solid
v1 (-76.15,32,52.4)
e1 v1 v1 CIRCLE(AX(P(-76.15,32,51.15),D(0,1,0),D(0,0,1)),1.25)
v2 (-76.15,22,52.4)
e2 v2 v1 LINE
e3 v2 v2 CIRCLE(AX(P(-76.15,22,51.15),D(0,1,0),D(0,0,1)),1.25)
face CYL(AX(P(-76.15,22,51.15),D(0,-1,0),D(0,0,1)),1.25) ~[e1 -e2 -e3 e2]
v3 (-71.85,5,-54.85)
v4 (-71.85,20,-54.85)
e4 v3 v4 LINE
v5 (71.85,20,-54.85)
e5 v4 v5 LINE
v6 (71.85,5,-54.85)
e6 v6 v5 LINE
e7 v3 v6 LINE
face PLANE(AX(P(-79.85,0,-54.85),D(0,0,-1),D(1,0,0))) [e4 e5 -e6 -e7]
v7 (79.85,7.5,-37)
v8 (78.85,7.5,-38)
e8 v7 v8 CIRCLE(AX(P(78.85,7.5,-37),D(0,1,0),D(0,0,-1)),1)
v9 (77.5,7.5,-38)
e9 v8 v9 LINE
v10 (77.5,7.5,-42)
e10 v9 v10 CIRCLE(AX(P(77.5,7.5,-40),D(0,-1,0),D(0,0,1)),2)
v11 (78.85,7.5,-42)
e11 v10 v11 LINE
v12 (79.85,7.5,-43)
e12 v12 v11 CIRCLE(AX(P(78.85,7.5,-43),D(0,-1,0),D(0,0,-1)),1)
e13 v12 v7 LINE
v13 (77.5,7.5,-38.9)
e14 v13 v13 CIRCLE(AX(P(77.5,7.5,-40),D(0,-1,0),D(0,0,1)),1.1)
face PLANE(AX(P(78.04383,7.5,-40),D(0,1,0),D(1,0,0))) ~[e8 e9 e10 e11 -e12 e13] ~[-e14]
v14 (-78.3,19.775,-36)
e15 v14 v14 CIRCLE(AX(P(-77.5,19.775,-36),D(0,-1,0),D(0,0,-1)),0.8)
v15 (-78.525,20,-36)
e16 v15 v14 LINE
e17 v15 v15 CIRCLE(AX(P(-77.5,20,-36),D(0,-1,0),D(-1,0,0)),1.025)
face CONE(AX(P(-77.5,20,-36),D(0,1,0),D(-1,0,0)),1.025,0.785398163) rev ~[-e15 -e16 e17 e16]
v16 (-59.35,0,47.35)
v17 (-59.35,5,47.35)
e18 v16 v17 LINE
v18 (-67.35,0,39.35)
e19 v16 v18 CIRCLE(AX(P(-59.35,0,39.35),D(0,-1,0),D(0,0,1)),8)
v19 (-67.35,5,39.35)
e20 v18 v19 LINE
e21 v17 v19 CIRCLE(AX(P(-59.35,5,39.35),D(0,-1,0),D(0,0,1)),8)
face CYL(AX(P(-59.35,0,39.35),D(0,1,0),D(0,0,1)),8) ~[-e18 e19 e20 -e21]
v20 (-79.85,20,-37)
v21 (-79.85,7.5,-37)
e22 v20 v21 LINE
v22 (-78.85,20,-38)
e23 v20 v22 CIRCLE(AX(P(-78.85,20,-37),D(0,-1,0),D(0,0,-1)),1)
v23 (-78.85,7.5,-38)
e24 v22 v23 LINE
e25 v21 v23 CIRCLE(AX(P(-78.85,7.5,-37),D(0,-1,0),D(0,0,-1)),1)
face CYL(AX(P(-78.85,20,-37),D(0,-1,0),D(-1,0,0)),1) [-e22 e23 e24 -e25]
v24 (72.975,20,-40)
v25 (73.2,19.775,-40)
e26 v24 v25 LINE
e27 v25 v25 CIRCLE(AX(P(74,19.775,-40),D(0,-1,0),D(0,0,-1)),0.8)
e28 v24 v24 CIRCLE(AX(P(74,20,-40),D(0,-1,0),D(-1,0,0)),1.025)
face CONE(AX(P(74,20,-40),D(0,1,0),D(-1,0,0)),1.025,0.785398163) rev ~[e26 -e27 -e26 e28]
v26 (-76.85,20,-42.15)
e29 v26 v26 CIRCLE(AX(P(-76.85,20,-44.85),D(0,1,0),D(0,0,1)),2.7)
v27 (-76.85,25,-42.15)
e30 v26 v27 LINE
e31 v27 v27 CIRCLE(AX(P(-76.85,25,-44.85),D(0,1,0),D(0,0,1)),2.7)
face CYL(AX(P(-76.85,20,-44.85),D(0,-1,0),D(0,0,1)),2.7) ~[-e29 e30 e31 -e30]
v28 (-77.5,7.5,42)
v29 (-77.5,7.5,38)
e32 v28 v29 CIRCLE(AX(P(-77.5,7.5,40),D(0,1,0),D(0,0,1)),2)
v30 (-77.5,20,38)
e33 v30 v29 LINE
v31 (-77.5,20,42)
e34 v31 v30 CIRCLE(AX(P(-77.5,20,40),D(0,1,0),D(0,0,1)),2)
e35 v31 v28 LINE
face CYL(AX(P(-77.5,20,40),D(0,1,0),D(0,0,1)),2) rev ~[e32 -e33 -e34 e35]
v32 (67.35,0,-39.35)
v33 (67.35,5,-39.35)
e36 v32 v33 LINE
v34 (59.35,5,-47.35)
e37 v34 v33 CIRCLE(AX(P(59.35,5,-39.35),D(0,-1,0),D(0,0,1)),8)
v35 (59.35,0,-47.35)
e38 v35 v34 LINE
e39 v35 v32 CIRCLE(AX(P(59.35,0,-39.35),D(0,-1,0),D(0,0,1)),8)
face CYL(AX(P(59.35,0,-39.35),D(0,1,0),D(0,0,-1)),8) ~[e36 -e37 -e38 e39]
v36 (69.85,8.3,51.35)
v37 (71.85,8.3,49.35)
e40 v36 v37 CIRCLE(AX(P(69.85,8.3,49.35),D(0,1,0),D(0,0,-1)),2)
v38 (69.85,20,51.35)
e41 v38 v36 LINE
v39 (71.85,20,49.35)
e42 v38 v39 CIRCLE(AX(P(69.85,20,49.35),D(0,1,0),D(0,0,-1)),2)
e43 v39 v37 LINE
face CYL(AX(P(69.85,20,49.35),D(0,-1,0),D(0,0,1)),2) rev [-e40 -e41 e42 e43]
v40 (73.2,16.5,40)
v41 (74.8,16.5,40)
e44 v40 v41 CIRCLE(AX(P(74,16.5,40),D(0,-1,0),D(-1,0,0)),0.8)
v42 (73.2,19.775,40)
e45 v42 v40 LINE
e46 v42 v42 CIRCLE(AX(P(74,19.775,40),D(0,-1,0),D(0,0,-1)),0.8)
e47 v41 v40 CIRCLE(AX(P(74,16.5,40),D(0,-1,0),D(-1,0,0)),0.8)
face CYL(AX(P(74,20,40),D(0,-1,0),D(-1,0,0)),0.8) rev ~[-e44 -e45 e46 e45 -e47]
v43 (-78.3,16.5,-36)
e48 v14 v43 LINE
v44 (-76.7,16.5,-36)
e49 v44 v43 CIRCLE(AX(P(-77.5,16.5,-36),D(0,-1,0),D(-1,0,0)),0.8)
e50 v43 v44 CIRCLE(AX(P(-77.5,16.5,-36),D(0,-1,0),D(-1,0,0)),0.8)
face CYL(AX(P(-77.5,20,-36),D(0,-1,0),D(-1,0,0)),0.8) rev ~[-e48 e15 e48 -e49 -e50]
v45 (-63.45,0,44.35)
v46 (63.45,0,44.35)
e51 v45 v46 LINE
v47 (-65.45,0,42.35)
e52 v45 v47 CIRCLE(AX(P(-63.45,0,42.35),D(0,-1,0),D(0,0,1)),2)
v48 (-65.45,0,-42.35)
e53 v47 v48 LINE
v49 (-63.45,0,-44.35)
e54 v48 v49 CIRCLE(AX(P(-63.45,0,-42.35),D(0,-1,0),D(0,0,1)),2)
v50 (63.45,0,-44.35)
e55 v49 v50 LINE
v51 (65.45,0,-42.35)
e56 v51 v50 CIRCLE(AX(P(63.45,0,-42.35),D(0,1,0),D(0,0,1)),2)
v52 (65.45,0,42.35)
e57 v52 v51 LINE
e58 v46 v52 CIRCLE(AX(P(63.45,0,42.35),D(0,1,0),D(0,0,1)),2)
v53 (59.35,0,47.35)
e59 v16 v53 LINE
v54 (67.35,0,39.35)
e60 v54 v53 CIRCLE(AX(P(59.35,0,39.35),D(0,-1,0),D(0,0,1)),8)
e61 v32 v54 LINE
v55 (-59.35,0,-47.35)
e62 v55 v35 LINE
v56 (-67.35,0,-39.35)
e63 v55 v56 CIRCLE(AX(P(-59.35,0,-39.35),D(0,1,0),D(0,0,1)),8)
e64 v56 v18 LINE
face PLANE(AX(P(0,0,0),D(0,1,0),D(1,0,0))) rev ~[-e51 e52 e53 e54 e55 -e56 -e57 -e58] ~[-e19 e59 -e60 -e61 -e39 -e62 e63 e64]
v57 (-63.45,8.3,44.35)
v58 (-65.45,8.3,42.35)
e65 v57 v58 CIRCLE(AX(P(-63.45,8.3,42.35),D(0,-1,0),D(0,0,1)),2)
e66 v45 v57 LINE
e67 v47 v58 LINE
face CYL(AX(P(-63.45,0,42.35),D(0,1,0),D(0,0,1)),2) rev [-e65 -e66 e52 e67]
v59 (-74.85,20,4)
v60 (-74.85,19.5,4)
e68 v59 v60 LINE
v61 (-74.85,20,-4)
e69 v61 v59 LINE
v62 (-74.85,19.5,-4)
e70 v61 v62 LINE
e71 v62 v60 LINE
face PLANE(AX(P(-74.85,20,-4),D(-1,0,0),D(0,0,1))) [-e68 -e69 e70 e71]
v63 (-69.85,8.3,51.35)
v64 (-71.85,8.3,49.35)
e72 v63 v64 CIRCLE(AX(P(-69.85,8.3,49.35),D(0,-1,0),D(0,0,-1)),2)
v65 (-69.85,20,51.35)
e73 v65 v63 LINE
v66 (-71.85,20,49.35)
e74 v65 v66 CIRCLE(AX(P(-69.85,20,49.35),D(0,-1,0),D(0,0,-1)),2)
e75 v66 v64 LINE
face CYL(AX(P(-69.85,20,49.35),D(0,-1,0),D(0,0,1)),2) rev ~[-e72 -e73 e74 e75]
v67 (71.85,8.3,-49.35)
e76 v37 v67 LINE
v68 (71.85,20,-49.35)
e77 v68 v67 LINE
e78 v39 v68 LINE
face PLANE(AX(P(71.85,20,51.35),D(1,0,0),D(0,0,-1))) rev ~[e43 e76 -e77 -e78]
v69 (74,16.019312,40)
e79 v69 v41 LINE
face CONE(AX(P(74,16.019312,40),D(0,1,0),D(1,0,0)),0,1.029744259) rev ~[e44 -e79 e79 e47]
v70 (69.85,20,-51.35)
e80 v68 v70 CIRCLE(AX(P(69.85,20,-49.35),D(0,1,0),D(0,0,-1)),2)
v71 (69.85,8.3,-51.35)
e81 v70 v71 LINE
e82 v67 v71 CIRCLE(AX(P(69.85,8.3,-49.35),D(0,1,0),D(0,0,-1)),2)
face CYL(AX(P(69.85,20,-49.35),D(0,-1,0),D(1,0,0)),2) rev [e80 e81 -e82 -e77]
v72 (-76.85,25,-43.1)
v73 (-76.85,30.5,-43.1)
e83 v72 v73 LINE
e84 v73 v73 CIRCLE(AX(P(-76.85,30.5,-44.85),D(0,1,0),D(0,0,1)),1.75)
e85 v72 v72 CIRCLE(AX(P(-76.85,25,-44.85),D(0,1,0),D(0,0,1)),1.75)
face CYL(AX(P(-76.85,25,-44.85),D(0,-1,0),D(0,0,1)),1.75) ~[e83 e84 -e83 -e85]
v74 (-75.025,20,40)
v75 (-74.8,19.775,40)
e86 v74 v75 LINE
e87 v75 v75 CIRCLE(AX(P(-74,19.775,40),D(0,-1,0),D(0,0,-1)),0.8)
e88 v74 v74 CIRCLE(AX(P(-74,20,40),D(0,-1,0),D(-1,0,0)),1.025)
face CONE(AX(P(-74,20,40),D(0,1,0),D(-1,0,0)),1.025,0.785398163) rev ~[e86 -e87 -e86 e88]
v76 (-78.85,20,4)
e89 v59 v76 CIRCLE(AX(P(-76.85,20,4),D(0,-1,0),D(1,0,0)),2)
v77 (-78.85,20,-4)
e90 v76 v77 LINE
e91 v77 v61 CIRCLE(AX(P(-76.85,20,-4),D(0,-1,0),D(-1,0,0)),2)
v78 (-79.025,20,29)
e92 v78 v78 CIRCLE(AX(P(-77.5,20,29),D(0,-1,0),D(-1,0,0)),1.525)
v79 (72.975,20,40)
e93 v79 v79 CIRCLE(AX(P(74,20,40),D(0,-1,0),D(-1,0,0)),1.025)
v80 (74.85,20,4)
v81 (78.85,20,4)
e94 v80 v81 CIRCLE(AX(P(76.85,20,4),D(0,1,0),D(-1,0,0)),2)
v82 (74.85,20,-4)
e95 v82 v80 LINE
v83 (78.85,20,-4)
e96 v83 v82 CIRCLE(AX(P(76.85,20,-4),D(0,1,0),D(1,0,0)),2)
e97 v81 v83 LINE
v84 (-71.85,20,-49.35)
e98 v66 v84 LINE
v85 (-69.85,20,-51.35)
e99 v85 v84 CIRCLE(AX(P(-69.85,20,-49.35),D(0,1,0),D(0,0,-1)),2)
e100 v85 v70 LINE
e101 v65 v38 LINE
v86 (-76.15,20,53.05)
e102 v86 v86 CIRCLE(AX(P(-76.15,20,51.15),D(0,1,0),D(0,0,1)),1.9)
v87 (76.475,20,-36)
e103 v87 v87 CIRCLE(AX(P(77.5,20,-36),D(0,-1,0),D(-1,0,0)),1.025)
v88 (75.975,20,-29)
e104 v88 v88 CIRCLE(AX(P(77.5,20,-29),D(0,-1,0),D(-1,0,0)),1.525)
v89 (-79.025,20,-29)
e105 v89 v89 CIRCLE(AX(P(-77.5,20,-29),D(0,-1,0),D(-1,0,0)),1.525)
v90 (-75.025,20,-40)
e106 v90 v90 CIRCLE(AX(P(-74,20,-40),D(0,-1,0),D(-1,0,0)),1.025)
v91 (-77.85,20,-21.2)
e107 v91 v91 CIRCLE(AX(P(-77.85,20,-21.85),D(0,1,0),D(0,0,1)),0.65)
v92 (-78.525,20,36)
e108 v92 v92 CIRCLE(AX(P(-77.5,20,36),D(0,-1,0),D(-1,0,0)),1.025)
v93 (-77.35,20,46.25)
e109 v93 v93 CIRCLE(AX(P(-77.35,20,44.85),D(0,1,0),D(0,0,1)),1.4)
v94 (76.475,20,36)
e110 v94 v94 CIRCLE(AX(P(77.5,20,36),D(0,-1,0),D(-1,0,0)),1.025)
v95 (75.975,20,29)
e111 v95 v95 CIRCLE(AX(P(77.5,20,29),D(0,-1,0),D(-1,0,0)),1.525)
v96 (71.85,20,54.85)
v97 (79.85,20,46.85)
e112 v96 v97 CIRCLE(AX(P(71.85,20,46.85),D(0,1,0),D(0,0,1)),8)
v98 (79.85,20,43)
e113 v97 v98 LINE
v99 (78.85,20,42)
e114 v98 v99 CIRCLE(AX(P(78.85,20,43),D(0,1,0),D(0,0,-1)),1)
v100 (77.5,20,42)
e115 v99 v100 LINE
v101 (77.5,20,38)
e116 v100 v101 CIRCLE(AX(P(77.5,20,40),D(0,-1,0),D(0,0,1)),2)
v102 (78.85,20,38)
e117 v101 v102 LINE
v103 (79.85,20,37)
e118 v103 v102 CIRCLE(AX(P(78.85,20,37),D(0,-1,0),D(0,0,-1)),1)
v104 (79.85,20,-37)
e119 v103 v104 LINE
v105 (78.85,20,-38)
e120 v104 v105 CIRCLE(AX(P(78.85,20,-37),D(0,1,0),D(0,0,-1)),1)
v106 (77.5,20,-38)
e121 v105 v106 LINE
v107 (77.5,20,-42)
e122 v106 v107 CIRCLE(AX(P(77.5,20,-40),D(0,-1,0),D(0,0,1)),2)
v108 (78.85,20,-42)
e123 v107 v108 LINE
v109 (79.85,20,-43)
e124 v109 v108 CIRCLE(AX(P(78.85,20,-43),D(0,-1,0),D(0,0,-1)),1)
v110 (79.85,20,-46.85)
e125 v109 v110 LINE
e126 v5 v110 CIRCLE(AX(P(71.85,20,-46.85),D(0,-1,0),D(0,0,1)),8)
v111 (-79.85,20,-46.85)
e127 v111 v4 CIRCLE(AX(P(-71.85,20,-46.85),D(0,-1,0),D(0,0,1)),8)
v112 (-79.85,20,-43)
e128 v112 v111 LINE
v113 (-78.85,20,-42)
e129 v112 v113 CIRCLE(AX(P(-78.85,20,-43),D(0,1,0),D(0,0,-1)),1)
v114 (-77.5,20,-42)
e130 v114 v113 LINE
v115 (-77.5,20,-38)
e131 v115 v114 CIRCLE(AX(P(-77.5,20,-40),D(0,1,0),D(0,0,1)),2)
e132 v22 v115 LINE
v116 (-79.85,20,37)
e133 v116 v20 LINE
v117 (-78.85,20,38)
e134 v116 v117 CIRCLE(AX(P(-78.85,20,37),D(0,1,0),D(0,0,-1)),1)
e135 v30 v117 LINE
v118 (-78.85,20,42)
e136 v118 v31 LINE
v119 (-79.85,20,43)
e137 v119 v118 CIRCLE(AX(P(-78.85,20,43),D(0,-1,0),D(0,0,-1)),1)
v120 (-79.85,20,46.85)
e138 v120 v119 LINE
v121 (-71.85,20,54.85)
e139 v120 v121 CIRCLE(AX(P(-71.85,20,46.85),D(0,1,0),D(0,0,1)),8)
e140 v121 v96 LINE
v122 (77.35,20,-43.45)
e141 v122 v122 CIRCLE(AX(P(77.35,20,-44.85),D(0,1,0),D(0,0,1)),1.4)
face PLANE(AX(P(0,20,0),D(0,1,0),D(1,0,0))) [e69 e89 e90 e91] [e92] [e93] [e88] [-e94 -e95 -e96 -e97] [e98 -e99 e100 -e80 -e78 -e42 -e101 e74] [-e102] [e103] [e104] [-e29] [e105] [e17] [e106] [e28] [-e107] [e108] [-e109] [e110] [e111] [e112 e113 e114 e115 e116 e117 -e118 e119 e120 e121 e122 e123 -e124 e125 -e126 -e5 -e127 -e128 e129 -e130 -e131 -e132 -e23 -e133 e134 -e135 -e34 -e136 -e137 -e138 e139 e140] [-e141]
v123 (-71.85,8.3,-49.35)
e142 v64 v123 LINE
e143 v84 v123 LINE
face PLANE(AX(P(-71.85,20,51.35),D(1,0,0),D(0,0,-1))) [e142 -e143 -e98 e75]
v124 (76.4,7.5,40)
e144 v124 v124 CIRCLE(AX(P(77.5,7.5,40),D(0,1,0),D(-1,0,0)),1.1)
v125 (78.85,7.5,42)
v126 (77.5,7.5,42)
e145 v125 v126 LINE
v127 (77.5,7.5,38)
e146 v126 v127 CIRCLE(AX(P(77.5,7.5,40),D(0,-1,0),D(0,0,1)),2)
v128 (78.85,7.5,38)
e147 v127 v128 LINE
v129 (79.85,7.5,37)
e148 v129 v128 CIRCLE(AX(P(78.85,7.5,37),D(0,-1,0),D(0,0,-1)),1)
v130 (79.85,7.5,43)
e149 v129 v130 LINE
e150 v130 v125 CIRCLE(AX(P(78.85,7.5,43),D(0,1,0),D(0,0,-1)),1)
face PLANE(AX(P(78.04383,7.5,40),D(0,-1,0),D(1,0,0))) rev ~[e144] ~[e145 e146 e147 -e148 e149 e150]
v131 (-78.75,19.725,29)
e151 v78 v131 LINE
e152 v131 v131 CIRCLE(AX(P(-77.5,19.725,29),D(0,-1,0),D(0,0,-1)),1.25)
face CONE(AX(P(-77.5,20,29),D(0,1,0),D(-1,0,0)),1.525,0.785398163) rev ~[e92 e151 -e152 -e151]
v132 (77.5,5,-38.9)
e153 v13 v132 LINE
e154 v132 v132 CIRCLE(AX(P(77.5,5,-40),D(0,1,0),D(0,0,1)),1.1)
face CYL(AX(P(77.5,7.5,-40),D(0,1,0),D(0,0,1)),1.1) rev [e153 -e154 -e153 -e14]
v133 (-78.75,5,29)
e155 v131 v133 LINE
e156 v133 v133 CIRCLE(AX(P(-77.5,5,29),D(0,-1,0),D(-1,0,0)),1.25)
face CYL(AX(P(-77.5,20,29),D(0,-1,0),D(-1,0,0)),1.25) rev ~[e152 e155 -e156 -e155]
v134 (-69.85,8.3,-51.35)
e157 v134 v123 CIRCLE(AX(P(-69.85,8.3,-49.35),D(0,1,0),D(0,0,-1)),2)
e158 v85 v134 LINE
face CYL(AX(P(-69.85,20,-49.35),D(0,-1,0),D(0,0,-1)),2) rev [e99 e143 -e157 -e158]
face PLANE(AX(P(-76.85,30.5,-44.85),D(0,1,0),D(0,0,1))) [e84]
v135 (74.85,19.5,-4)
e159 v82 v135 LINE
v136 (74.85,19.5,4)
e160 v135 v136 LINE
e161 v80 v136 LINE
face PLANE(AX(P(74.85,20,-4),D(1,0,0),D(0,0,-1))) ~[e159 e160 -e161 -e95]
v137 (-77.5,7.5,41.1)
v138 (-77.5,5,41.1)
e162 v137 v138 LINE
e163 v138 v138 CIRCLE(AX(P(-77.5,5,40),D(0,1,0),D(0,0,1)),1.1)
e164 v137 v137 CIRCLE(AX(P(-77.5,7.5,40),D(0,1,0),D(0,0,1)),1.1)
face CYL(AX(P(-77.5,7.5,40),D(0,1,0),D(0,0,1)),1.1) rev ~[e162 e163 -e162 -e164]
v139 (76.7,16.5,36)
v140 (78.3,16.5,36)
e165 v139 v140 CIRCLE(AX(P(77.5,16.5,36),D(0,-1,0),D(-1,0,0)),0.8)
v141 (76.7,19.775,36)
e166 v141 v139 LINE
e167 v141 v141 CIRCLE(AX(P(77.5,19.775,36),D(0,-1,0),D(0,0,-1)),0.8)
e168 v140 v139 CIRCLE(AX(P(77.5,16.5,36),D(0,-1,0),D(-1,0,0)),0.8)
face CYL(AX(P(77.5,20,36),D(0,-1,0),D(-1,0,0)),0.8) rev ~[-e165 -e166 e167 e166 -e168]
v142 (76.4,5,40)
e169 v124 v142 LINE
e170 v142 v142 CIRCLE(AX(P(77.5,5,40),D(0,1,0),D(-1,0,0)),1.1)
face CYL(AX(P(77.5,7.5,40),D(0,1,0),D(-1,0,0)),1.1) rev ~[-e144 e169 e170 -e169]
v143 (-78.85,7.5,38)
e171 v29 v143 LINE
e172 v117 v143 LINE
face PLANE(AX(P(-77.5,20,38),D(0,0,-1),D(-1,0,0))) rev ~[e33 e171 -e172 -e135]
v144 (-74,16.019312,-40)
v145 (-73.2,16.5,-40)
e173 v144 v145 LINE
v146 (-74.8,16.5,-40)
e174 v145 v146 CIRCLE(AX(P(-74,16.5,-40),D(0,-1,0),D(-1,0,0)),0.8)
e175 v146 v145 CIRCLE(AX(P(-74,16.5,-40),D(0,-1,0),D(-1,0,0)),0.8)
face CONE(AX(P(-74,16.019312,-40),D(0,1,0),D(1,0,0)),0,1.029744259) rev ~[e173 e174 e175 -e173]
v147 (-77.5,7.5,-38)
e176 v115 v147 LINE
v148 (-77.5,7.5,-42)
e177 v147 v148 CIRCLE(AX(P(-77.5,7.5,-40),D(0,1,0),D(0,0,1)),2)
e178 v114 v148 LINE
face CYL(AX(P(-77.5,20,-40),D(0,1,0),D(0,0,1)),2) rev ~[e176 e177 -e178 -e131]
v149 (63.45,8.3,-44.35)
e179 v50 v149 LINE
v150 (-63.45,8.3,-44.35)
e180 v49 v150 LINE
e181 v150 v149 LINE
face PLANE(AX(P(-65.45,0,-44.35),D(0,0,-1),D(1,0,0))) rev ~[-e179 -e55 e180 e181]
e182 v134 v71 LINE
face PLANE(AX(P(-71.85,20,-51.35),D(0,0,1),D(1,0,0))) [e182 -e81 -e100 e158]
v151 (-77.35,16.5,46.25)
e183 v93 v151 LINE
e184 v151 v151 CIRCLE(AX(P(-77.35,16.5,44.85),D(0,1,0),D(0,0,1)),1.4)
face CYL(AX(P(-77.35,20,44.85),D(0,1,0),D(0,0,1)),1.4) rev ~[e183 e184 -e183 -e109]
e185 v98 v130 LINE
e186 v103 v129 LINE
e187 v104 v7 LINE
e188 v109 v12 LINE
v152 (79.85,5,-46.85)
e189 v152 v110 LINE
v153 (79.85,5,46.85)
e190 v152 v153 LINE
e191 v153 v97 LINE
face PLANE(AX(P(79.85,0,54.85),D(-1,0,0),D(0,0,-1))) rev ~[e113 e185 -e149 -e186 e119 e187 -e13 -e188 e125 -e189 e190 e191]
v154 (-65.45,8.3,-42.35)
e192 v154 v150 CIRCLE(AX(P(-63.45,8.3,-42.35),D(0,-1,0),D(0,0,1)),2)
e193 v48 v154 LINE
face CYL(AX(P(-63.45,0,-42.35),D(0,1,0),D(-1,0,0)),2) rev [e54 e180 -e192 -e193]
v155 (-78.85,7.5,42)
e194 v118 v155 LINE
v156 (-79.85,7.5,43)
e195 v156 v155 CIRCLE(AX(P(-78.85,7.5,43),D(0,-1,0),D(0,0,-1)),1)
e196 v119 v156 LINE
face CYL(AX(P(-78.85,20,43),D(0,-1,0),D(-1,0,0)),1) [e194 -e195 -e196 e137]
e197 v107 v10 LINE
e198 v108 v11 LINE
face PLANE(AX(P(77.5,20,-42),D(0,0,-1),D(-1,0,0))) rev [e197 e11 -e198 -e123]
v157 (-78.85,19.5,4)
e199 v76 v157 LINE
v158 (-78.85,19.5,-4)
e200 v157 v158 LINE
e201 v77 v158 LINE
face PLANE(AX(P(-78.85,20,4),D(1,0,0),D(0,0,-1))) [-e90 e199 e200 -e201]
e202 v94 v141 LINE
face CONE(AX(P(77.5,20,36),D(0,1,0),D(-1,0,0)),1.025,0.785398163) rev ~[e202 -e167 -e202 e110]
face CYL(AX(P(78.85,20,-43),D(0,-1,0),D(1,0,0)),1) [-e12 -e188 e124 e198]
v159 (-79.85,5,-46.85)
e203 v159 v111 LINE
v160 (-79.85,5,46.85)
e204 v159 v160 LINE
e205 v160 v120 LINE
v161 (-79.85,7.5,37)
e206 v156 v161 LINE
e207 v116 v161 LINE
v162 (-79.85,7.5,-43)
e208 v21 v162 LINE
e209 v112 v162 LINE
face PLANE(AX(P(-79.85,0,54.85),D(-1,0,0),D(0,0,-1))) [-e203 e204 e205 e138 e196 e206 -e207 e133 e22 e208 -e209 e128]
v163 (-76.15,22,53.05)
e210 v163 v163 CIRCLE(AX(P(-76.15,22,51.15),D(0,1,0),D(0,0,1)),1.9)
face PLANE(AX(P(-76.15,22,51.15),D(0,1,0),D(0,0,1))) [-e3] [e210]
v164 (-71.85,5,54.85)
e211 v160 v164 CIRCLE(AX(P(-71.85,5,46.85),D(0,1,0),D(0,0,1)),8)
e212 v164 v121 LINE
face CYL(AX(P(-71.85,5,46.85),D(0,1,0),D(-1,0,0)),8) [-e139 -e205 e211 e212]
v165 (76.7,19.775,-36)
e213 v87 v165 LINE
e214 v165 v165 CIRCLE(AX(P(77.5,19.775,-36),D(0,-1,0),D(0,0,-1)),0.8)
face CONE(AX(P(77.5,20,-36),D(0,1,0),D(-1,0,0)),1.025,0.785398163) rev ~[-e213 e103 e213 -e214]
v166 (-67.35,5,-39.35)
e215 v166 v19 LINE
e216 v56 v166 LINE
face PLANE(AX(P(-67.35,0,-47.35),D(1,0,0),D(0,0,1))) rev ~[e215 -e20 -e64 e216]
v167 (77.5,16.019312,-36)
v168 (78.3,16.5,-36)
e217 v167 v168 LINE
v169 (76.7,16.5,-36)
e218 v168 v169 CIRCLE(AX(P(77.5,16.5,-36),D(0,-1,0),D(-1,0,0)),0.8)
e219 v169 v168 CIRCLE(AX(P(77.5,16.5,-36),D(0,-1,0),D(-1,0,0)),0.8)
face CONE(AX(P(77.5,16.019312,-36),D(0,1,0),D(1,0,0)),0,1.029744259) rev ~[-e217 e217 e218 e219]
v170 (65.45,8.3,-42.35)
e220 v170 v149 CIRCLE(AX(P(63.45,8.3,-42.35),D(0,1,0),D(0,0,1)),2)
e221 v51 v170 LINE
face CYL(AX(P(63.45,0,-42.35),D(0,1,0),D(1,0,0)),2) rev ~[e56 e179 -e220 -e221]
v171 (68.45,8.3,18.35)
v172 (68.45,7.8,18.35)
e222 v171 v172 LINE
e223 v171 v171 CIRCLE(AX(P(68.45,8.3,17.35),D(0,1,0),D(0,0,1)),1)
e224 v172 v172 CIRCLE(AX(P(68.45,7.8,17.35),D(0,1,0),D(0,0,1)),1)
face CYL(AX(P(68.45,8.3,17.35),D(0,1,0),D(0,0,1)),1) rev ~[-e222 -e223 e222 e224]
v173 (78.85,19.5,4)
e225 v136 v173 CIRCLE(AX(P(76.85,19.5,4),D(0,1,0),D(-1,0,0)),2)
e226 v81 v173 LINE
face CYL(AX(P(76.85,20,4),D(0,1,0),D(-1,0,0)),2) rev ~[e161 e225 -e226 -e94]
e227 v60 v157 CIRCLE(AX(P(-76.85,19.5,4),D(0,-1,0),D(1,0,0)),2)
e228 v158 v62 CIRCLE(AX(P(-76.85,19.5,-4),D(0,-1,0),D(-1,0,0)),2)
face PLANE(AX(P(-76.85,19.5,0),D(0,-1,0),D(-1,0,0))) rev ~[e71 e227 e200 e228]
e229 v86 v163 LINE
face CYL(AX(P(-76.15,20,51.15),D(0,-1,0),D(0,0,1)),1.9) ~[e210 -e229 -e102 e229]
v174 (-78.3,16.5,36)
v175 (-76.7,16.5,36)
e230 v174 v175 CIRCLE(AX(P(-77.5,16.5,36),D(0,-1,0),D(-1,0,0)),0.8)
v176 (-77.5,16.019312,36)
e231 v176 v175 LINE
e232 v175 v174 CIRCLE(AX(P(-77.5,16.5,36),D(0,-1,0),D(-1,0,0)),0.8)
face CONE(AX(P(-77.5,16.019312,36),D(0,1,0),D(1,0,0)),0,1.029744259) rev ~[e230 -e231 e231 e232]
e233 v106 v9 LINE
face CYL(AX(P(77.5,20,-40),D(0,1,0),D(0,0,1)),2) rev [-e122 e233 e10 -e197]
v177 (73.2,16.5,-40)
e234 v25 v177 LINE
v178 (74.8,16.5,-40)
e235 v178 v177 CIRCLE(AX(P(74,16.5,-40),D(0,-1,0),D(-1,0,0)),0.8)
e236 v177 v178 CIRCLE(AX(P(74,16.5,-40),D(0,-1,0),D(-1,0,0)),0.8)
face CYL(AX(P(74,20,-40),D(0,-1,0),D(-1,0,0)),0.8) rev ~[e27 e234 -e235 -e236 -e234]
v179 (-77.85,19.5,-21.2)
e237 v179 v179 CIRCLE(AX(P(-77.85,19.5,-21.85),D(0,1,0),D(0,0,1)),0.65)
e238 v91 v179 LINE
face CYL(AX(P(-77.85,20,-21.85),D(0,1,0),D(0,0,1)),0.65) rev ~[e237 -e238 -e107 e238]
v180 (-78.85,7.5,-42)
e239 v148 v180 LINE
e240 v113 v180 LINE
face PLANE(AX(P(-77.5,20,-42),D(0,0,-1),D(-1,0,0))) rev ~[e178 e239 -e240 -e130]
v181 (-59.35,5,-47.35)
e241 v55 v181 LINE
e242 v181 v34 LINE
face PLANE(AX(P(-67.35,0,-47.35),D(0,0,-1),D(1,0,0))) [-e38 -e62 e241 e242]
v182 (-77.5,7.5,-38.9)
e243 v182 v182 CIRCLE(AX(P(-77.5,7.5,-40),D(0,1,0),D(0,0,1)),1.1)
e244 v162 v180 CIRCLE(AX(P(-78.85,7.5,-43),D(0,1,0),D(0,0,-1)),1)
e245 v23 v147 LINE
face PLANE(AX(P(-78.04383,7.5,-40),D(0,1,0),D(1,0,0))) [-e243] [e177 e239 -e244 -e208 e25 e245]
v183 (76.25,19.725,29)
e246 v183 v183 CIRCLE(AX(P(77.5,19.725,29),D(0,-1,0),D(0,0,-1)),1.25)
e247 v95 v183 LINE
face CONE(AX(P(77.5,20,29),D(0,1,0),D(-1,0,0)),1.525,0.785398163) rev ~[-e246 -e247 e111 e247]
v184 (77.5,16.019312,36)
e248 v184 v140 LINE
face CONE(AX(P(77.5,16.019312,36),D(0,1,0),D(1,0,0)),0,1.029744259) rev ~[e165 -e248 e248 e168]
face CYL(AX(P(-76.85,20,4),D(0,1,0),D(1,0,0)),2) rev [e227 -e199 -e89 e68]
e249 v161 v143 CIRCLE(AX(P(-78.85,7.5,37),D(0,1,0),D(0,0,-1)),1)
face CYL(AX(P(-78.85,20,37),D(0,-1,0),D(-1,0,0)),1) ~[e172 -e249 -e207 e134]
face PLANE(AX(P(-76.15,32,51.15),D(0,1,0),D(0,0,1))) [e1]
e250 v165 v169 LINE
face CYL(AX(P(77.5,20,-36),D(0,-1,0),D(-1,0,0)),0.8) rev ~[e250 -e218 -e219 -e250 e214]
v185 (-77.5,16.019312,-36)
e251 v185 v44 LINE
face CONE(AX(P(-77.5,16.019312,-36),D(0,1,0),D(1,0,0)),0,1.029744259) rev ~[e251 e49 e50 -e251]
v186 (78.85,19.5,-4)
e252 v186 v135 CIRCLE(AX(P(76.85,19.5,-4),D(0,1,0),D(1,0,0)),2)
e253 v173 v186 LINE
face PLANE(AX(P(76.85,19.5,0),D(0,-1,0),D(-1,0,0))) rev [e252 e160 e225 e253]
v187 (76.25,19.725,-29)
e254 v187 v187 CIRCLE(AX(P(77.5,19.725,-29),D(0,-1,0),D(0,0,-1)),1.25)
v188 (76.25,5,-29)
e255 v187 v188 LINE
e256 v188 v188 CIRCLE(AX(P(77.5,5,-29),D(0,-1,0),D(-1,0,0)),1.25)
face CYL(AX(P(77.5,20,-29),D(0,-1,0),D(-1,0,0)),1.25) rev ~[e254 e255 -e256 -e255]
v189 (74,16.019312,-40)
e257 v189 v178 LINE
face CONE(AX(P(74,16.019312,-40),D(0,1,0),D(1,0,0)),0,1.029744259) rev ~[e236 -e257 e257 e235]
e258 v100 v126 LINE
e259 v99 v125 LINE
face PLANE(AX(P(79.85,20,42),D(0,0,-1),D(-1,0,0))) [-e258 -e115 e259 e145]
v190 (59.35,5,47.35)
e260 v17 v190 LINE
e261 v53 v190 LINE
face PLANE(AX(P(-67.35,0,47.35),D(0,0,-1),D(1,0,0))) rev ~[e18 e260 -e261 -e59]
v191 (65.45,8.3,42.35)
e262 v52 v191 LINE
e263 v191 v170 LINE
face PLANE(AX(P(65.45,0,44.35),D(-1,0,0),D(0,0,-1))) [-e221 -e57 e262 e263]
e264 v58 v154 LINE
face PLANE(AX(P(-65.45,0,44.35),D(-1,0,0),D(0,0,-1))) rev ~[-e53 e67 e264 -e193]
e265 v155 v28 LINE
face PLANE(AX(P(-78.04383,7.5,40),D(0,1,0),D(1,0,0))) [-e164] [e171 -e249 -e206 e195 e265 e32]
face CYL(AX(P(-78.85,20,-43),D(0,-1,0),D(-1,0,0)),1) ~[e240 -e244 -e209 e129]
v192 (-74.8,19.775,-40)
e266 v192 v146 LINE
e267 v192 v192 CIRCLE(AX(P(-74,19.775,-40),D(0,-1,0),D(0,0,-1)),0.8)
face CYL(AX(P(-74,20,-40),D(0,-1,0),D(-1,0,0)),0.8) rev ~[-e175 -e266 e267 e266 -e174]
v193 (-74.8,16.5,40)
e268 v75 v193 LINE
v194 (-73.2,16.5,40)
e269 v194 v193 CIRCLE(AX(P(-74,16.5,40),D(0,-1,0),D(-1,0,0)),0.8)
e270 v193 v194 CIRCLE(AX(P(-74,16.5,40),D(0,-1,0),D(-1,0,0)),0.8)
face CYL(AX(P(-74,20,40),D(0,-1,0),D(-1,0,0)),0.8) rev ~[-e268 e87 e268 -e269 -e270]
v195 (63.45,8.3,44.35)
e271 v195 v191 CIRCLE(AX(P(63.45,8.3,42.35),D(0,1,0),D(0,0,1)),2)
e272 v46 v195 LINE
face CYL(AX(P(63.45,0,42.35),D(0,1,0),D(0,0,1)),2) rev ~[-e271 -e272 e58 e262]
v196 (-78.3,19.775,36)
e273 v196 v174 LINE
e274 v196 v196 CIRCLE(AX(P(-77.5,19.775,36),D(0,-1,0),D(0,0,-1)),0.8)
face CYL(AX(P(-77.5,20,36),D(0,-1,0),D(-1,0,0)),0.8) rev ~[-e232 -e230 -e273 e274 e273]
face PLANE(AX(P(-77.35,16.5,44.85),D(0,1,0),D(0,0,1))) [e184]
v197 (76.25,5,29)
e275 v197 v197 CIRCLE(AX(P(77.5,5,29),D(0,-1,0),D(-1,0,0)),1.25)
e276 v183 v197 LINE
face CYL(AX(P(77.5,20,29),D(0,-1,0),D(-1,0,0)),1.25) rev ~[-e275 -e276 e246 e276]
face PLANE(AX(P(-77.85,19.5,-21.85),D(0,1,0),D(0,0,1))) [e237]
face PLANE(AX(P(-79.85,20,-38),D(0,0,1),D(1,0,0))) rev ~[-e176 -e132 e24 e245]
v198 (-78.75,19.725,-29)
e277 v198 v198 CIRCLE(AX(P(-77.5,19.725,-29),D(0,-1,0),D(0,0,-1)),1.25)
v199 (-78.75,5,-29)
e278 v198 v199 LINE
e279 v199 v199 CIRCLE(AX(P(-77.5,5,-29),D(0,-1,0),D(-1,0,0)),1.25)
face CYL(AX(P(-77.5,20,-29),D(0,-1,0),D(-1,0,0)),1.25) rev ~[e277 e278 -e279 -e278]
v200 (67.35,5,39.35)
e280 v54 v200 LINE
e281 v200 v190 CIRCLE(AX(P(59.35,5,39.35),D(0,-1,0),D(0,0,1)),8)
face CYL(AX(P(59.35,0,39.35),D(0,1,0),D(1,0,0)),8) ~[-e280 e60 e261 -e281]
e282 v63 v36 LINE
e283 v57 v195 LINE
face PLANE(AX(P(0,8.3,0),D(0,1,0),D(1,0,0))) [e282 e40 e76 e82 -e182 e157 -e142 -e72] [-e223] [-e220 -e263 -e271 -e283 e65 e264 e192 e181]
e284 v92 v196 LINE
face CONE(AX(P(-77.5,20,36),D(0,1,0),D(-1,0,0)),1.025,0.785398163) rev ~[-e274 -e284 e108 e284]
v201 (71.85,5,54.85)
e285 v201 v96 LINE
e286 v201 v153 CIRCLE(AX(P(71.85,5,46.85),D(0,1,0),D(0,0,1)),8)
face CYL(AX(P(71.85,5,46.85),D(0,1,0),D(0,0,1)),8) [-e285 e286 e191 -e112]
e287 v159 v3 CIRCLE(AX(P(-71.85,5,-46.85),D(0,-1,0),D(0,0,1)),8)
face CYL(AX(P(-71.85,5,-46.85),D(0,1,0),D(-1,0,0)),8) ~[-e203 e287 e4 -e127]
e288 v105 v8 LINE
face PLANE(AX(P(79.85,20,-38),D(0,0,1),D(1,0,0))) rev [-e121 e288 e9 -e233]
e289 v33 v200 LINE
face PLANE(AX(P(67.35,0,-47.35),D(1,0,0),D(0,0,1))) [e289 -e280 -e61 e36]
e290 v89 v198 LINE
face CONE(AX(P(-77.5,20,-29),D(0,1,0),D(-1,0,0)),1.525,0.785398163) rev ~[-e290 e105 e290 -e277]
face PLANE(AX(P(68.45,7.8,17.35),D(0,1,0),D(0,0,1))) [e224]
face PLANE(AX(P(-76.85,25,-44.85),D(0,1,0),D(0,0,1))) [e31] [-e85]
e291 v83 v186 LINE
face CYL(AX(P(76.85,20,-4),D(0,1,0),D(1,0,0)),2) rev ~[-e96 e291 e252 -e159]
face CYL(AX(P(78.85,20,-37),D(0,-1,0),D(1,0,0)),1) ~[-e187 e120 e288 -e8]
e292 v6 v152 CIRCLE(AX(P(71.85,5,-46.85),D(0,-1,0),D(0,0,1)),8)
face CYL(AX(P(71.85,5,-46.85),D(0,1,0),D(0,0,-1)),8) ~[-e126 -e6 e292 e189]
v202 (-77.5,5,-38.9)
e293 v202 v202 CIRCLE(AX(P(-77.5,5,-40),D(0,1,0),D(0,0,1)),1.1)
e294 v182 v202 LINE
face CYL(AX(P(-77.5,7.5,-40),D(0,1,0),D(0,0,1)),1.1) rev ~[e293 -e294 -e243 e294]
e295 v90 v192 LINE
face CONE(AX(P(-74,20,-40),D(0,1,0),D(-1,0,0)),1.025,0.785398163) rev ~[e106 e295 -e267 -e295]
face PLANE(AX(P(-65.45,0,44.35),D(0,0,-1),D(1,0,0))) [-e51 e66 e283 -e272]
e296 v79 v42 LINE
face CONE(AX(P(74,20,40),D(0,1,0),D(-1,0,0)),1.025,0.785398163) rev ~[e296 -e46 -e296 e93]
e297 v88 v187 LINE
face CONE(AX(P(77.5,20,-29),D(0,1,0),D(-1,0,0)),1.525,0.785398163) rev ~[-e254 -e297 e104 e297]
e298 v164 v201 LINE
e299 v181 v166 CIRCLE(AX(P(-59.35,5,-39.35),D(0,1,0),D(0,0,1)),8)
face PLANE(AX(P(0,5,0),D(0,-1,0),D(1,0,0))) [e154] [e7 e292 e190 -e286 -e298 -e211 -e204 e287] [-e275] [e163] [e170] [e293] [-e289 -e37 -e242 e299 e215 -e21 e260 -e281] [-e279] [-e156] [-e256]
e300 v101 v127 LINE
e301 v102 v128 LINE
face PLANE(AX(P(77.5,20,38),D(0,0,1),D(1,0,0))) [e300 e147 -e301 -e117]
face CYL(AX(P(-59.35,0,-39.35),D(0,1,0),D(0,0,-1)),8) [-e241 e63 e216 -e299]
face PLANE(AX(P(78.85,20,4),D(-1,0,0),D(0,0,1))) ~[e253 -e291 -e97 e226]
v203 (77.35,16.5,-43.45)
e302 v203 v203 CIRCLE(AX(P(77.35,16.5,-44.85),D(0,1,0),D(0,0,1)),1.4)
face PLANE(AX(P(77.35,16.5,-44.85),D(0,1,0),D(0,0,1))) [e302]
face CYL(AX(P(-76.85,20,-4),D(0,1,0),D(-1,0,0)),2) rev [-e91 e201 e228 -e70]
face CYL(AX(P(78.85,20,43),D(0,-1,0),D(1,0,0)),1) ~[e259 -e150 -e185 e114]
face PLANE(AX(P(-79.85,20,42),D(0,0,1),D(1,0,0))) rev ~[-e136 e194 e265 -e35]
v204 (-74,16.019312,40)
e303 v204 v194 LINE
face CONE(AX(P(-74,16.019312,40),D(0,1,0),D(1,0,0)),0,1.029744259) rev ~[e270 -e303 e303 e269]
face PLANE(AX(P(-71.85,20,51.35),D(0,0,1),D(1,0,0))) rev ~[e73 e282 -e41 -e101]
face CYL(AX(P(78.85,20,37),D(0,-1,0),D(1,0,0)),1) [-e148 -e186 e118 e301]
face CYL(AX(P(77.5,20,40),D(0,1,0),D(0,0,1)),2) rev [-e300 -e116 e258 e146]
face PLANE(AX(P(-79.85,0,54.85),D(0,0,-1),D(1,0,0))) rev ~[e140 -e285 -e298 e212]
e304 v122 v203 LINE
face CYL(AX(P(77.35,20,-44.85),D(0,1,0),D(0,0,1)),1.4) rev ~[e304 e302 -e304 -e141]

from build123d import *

# Parameters (mm, degrees)
SKETCH1_W                       = 159.7
SKETCH1_H                       = 109.7
SKETCH1_W_2                     = 130.9
SKETCH1_H_2                     = 88.7
BOSS_EXTRUDE1_DEPTH             = 20
SKETCH2_W                       = 143.7
SKETCH2_H                       = 102.7
SKETCH2_W_2                     = 130.9
SKETCH2_H_2                     = 88.7
CUT_EXTRUDE1_DEPTH              = 11.7
SKETCH3_W                       = 159.7
SKETCH3_H                       = 109.7
SKETCH3_W_2                     = 134.7
SKETCH3_H_2                     = 94.7
CUT_EXTRUDE2_DEPTH              = 5
FILLET1_R                       = 2
FILLET2_R                       = 8
M2X0_4_TAPPED_HOLE1_D           = 1.6
M2X0_4_TAPPED_HOLE1_DEPTH       = 3.5
M2X0_4_TAPPED_HOLE1_CSINK_D     = 2.05
M2X0_4_TAPPED_HOLE1_CSINK_ANGLE = 90
M2X0_4_TAPPED_HOLE1_TIP         = 0.480688495
SKETCH7_R                       = 2.7
BOSS_EXTRUDE2_DEPTH             = 5
SKETCH23_R                      = 1.75
BOSS_EXTRUDE5_DEPTH             = 5.5
SKETCH8_R                       = 1.9
BOSS_EXTRUDE3_DEPTH             = 2
SKETCH20_R                      = 1.25
BOSS_EXTRUDE4_DEPTH             = 10
CUT_EXTRUDE3_DEPTH              = 0.5
CUT_EXTRUDE4_DEPTH              = 12.5
SKETCH14_R                      = 1.1
CUT_EXTRUDE5_DEPTH              = 100.923946079
LPATTERN2_COUNT                 = 2
LPATTERN2_PITCH                 = 80
MIRROR6_COPY_1_DEPTH            = 12.5
MIRROR6_COPY_2_SKETCH_R         = 1.1
MIRROR6_COPY_2_DEPTH            = 100.923946079
MIRROR6_COPY_3_DEPTH            = 12.5
MIRROR6_COPY_4_SKETCH_R         = 1.1
MIRROR6_COPY_4_DEPTH            = 100.923946079
FILLET4_R                       = 1
M3X0_5_TAPPED_HOLE1_D           = 2.5
M3X0_5_TAPPED_HOLE1_CSINK_D     = 3.05
M3X0_5_TAPPED_HOLE1_CSINK_ANGLE = 90
SKETCH18_R                      = 0.65
CUT_EXTRUDE6_DEPTH              = 0.5
SKETCH19_R                      = 1.4
CUT_EXTRUDE7_DEPTH              = 3.5
SKETCH24_R                      = 1
CUT_EXTRUDE8_DEPTH              = 0.5


with BuildPart() as part:
    # Sketch1 → Boss-Extrude1 (new body)
    with BuildSketch(Plane(origin=(0, 0, 0), x_dir=(1, 0, 0), z_dir=(0, 1, 0))):
        Rectangle(SKETCH1_W, SKETCH1_H)
        Rectangle(SKETCH1_W_2, SKETCH1_H_2, mode=Mode.SUBTRACT)
    extrude(amount=BOSS_EXTRUDE1_DEPTH)

    # Sketch2 → Cut-Extrude1 (cut)
    with BuildSketch(Plane(origin=(0, 20, 0), x_dir=(1, 0, 0), z_dir=(0, 1, 0))):
        Rectangle(SKETCH2_W, SKETCH2_H)
        Rectangle(SKETCH2_W_2, SKETCH2_H_2, mode=Mode.SUBTRACT)
    extrude(amount=-CUT_EXTRUDE1_DEPTH, mode=Mode.SUBTRACT)

    # Sketch3 → Cut-Extrude2 (cut)
    with BuildSketch(Plane.XZ):
        Rectangle(SKETCH3_W, SKETCH3_H)
        Rectangle(SKETCH3_W_2, SKETCH3_H_2, mode=Mode.SUBTRACT)
    extrude(amount=-CUT_EXTRUDE2_DEPTH, mode=Mode.SUBTRACT)

    # Fillet1
    fillet1_edges = [part.edges().sort_by_distance(p)[0] for p in [
        (-65.45, 4.15, 44.35),
        (65.45, 4.15, 44.35),
        (65.45, 4.15, -44.35),
        (-65.45, 4.15, -44.35),
        (71.85, 14.15, 51.35),
        (-71.85, 14.15, 51.35),
        (71.85, 14.15, -51.35),
        (-71.85, 14.15, -51.35),
    ]]
    fillet(fillet1_edges, radius=FILLET1_R)

    # Fillet2
    fillet2_edges = [part.edges().sort_by_distance(p)[0] for p in [
        (-67.35, 2.5, 47.35),
        (67.35, 2.5, 47.35),
        (67.35, 2.5, -47.35),
        (-67.35, 2.5, -47.35),
        (-79.85, 12.5, 54.85),
        (79.85, 12.5, 54.85),
        (79.85, 12.5, -54.85),
        (-79.85, 12.5, -54.85),
    ]]
    fillet(fillet2_edges, radius=FILLET2_R)

    # M2x0.4 Tapped Hole1
    with Locations(Plane(origin=(0, 20, 0), x_dir=(1, 0, 0), z_dir=(0, 1, 0))):
        with Locations((-77.5, 36), (-77.5, -36), (77.5, 36), (77.5, -36), (-74, 40), (-74, -40), (74, 40), (74, -40)):
            CounterSinkHole(M2X0_4_TAPPED_HOLE1_D / 2, M2X0_4_TAPPED_HOLE1_CSINK_D / 2, depth=M2X0_4_TAPPED_HOLE1_DEPTH, counter_sink_angle=M2X0_4_TAPPED_HOLE1_CSINK_ANGLE)
            with Locations((0, 0, -(M2X0_4_TAPPED_HOLE1_DEPTH + M2X0_4_TAPPED_HOLE1_TIP / 2))):  # 118° drill point
                Cone(0, M2X0_4_TAPPED_HOLE1_D / 2, M2X0_4_TAPPED_HOLE1_TIP, mode=Mode.SUBTRACT)

    # Sketch7 → Boss-Extrude2 (add)
    with BuildSketch(Plane(origin=(0, 20, 0), x_dir=(1, 0, 0), z_dir=(0, 1, 0))):
        with Locations((-76.85, 44.85)):
            Circle(SKETCH7_R)
    extrude(amount=BOSS_EXTRUDE2_DEPTH)

    # Sketch23 → Boss-Extrude5 (add)
    with BuildSketch(Plane(origin=(0, 25, 0), x_dir=(1, 0, 0), z_dir=(0, 1, 0))):
        with Locations((-76.85, 44.85)):
            Circle(SKETCH23_R)
    extrude(amount=BOSS_EXTRUDE5_DEPTH)

    # Sketch8 → Boss-Extrude3 (add)
    with BuildSketch(Plane(origin=(0, 20, 0), x_dir=(1, 0, 0), z_dir=(0, 1, 0))):
        with Locations((-76.15, -51.15)):
            Circle(SKETCH8_R)
    extrude(amount=BOSS_EXTRUDE3_DEPTH)

    # Sketch20 → Boss-Extrude4 (add)
    with BuildSketch(Plane(origin=(0, 22, 0), x_dir=(1, 0, 0), z_dir=(0, 1, 0))):
        with Locations((-76.15, -51.15)):
            Circle(SKETCH20_R)
    extrude(amount=BOSS_EXTRUDE4_DEPTH)

    # Sketch9 → Cut-Extrude3 (cut)
    with BuildSketch(Plane(origin=(0, 20, 0), x_dir=(1, 0, 0), z_dir=(0, 1, 0))):
        with BuildLine():
            Line((-74.85, 4), (-74.85, -4))
            ThreePointArc((-74.85, -4), (-76.85, -6), (-78.85, -4))
            Line((-78.85, -4), (-78.85, 4))
            ThreePointArc((-78.85, 4), (-76.85, 6), (-74.85, 4))
        make_face()
    cut_extrude3 = extrude(amount=-CUT_EXTRUDE3_DEPTH, mode=Mode.SUBTRACT)

    # Mirror1: Cut-Extrude3 across plane
    add(cut_extrude3.mirror(Plane(origin=(0, 0, 0), x_dir=(0, 0, 1), z_dir=(1, 0, 0))), mode=Mode.SUBTRACT)

    # Sketch11 → Cut-Extrude4 (cut)
    with BuildSketch(Plane(origin=(0, 20, 0), x_dir=(1, 0, 0), z_dir=(0, 1, 0))):
        with BuildLine():
            Line((-79.85, 42), (-79.85, 38))
            Line((-79.85, 38), (-77.5, 38))
            ThreePointArc((-77.5, 38), (-75.5, 40), (-77.5, 42))
            Line((-77.5, 42), (-79.85, 42))
        make_face()
    cut_extrude4 = extrude(amount=-CUT_EXTRUDE4_DEPTH, mode=Mode.SUBTRACT)

    # Sketch14 → Cut-Extrude5 (cut, through all)
    with BuildSketch(Plane(origin=(0, 7.5, 0), x_dir=(1, 0, 0), z_dir=(0, 1, 0))):
        with Locations((-77.5, 40)):
            Circle(SKETCH14_R)
    cut_extrude5 = extrude(amount=-CUT_EXTRUDE5_DEPTH, mode=Mode.SUBTRACT)

    # LPattern2: Cut-Extrude4, Cut-Extrude5 ×2
    with Locations(*[(0, 0, i * LPATTERN2_PITCH) for i in range(1, LPATTERN2_COUNT)]):
        add(cut_extrude4, mode=Mode.SUBTRACT)
        add(cut_extrude5, mode=Mode.SUBTRACT)

    # Mirror6 copy 1 sketch → Mirror6 copy 1 (cut)
    with BuildSketch(Plane(origin=(0, 20, 80), x_dir=(-1, 0, 0), z_dir=(0, 1, 0))):
        with BuildLine():
            Line((-79.85, -42), (-79.85, -38))
            Line((-79.85, -38), (-77.5, -38))
            ThreePointArc((-77.5, -38), (-75.5, -40), (-77.5, -42))
            Line((-77.5, -42), (-79.85, -42))
        make_face()
    extrude(amount=-MIRROR6_COPY_1_DEPTH, mode=Mode.SUBTRACT)

    # Mirror6 copy 2 sketch → Mirror6 copy 2 (cut, through all)
    with BuildSketch(Plane(origin=(0, 7.5, 80), x_dir=(-1, 0, 0), z_dir=(0, 1, 0))):
        with Locations((-77.5, -40)):
            Circle(MIRROR6_COPY_2_SKETCH_R)
    extrude(amount=-MIRROR6_COPY_2_DEPTH, mode=Mode.SUBTRACT)

    # Mirror6 copy 3 sketch → Mirror6 copy 3 (cut)
    with BuildSketch(Plane(origin=(0, 20, 0), x_dir=(-1, 0, 0), z_dir=(0, 1, 0))):
        with BuildLine():
            Line((-79.85, -42), (-79.85, -38))
            Line((-79.85, -38), (-77.5, -38))
            ThreePointArc((-77.5, -38), (-75.5, -40), (-77.5, -42))
            Line((-77.5, -42), (-79.85, -42))
        make_face()
    extrude(amount=-MIRROR6_COPY_3_DEPTH, mode=Mode.SUBTRACT)

    # Mirror6 copy 4 sketch → Mirror6 copy 4 (cut, through all)
    with BuildSketch(Plane(origin=(0, 7.5, 0), x_dir=(-1, 0, 0), z_dir=(0, 1, 0))):
        with Locations((-77.5, -40)):
            Circle(MIRROR6_COPY_4_SKETCH_R)
    extrude(amount=-MIRROR6_COPY_4_DEPTH, mode=Mode.SUBTRACT)

    # Fillet4
    fillet4_edges = [part.edges().sort_by_distance(p)[0] for p in [
        (-79.85, 13.75, 42),
        (-79.85, 13.75, 38),
        (79.85, 13.75, 42),
        (79.85, 13.75, 38),
        (79.85, 13.75, -38),
        (79.85, 13.75, -42),
        (-79.85, 13.75, -38),
        (-79.85, 13.75, -42),
    ]]
    fillet(fillet4_edges, radius=FILLET4_R)

    # M3x0.5 Tapped Hole1 (through all)
    with Locations(Plane(origin=(0, 20, 0), x_dir=(1, 0, 0), z_dir=(0, 1, 0))):
        with Locations((-77.5, 29), (-77.5, -29), (77.5, 29), (77.5, -29)):
            CounterSinkHole(M3X0_5_TAPPED_HOLE1_D / 2, M3X0_5_TAPPED_HOLE1_CSINK_D / 2, counter_sink_angle=M3X0_5_TAPPED_HOLE1_CSINK_ANGLE)

    # Sketch18 → Cut-Extrude6 (cut)
    with BuildSketch(Plane(origin=(0, 20, 0), x_dir=(1, 0, 0), z_dir=(0, 1, 0))):
        with Locations((-77.85, 21.85)):
            Circle(SKETCH18_R)
    extrude(amount=-CUT_EXTRUDE6_DEPTH, mode=Mode.SUBTRACT)

    # Sketch19 → Cut-Extrude7 (cut)
    with BuildSketch(Plane(origin=(0, 20, 0), x_dir=(1, 0, 0), z_dir=(0, 1, 0))):
        with Locations((77.35, 44.85)):
            Circle(SKETCH19_R)
        with Locations((-77.35, -44.85)):
            Circle(SKETCH19_R)
    extrude(amount=-CUT_EXTRUDE7_DEPTH, mode=Mode.SUBTRACT)

    # Sketch24 → Cut-Extrude8 (cut)
    with BuildSketch(Plane(origin=(0, 8.3, 0), x_dir=(1, 0, 0), z_dir=(0, 1, 0))):
        with Locations((68.45, -17.35)):
            Circle(SKETCH24_R)
    extrude(amount=-CUT_EXTRUDE8_DEPTH, mode=Mode.SUBTRACT)


solid = part.part
